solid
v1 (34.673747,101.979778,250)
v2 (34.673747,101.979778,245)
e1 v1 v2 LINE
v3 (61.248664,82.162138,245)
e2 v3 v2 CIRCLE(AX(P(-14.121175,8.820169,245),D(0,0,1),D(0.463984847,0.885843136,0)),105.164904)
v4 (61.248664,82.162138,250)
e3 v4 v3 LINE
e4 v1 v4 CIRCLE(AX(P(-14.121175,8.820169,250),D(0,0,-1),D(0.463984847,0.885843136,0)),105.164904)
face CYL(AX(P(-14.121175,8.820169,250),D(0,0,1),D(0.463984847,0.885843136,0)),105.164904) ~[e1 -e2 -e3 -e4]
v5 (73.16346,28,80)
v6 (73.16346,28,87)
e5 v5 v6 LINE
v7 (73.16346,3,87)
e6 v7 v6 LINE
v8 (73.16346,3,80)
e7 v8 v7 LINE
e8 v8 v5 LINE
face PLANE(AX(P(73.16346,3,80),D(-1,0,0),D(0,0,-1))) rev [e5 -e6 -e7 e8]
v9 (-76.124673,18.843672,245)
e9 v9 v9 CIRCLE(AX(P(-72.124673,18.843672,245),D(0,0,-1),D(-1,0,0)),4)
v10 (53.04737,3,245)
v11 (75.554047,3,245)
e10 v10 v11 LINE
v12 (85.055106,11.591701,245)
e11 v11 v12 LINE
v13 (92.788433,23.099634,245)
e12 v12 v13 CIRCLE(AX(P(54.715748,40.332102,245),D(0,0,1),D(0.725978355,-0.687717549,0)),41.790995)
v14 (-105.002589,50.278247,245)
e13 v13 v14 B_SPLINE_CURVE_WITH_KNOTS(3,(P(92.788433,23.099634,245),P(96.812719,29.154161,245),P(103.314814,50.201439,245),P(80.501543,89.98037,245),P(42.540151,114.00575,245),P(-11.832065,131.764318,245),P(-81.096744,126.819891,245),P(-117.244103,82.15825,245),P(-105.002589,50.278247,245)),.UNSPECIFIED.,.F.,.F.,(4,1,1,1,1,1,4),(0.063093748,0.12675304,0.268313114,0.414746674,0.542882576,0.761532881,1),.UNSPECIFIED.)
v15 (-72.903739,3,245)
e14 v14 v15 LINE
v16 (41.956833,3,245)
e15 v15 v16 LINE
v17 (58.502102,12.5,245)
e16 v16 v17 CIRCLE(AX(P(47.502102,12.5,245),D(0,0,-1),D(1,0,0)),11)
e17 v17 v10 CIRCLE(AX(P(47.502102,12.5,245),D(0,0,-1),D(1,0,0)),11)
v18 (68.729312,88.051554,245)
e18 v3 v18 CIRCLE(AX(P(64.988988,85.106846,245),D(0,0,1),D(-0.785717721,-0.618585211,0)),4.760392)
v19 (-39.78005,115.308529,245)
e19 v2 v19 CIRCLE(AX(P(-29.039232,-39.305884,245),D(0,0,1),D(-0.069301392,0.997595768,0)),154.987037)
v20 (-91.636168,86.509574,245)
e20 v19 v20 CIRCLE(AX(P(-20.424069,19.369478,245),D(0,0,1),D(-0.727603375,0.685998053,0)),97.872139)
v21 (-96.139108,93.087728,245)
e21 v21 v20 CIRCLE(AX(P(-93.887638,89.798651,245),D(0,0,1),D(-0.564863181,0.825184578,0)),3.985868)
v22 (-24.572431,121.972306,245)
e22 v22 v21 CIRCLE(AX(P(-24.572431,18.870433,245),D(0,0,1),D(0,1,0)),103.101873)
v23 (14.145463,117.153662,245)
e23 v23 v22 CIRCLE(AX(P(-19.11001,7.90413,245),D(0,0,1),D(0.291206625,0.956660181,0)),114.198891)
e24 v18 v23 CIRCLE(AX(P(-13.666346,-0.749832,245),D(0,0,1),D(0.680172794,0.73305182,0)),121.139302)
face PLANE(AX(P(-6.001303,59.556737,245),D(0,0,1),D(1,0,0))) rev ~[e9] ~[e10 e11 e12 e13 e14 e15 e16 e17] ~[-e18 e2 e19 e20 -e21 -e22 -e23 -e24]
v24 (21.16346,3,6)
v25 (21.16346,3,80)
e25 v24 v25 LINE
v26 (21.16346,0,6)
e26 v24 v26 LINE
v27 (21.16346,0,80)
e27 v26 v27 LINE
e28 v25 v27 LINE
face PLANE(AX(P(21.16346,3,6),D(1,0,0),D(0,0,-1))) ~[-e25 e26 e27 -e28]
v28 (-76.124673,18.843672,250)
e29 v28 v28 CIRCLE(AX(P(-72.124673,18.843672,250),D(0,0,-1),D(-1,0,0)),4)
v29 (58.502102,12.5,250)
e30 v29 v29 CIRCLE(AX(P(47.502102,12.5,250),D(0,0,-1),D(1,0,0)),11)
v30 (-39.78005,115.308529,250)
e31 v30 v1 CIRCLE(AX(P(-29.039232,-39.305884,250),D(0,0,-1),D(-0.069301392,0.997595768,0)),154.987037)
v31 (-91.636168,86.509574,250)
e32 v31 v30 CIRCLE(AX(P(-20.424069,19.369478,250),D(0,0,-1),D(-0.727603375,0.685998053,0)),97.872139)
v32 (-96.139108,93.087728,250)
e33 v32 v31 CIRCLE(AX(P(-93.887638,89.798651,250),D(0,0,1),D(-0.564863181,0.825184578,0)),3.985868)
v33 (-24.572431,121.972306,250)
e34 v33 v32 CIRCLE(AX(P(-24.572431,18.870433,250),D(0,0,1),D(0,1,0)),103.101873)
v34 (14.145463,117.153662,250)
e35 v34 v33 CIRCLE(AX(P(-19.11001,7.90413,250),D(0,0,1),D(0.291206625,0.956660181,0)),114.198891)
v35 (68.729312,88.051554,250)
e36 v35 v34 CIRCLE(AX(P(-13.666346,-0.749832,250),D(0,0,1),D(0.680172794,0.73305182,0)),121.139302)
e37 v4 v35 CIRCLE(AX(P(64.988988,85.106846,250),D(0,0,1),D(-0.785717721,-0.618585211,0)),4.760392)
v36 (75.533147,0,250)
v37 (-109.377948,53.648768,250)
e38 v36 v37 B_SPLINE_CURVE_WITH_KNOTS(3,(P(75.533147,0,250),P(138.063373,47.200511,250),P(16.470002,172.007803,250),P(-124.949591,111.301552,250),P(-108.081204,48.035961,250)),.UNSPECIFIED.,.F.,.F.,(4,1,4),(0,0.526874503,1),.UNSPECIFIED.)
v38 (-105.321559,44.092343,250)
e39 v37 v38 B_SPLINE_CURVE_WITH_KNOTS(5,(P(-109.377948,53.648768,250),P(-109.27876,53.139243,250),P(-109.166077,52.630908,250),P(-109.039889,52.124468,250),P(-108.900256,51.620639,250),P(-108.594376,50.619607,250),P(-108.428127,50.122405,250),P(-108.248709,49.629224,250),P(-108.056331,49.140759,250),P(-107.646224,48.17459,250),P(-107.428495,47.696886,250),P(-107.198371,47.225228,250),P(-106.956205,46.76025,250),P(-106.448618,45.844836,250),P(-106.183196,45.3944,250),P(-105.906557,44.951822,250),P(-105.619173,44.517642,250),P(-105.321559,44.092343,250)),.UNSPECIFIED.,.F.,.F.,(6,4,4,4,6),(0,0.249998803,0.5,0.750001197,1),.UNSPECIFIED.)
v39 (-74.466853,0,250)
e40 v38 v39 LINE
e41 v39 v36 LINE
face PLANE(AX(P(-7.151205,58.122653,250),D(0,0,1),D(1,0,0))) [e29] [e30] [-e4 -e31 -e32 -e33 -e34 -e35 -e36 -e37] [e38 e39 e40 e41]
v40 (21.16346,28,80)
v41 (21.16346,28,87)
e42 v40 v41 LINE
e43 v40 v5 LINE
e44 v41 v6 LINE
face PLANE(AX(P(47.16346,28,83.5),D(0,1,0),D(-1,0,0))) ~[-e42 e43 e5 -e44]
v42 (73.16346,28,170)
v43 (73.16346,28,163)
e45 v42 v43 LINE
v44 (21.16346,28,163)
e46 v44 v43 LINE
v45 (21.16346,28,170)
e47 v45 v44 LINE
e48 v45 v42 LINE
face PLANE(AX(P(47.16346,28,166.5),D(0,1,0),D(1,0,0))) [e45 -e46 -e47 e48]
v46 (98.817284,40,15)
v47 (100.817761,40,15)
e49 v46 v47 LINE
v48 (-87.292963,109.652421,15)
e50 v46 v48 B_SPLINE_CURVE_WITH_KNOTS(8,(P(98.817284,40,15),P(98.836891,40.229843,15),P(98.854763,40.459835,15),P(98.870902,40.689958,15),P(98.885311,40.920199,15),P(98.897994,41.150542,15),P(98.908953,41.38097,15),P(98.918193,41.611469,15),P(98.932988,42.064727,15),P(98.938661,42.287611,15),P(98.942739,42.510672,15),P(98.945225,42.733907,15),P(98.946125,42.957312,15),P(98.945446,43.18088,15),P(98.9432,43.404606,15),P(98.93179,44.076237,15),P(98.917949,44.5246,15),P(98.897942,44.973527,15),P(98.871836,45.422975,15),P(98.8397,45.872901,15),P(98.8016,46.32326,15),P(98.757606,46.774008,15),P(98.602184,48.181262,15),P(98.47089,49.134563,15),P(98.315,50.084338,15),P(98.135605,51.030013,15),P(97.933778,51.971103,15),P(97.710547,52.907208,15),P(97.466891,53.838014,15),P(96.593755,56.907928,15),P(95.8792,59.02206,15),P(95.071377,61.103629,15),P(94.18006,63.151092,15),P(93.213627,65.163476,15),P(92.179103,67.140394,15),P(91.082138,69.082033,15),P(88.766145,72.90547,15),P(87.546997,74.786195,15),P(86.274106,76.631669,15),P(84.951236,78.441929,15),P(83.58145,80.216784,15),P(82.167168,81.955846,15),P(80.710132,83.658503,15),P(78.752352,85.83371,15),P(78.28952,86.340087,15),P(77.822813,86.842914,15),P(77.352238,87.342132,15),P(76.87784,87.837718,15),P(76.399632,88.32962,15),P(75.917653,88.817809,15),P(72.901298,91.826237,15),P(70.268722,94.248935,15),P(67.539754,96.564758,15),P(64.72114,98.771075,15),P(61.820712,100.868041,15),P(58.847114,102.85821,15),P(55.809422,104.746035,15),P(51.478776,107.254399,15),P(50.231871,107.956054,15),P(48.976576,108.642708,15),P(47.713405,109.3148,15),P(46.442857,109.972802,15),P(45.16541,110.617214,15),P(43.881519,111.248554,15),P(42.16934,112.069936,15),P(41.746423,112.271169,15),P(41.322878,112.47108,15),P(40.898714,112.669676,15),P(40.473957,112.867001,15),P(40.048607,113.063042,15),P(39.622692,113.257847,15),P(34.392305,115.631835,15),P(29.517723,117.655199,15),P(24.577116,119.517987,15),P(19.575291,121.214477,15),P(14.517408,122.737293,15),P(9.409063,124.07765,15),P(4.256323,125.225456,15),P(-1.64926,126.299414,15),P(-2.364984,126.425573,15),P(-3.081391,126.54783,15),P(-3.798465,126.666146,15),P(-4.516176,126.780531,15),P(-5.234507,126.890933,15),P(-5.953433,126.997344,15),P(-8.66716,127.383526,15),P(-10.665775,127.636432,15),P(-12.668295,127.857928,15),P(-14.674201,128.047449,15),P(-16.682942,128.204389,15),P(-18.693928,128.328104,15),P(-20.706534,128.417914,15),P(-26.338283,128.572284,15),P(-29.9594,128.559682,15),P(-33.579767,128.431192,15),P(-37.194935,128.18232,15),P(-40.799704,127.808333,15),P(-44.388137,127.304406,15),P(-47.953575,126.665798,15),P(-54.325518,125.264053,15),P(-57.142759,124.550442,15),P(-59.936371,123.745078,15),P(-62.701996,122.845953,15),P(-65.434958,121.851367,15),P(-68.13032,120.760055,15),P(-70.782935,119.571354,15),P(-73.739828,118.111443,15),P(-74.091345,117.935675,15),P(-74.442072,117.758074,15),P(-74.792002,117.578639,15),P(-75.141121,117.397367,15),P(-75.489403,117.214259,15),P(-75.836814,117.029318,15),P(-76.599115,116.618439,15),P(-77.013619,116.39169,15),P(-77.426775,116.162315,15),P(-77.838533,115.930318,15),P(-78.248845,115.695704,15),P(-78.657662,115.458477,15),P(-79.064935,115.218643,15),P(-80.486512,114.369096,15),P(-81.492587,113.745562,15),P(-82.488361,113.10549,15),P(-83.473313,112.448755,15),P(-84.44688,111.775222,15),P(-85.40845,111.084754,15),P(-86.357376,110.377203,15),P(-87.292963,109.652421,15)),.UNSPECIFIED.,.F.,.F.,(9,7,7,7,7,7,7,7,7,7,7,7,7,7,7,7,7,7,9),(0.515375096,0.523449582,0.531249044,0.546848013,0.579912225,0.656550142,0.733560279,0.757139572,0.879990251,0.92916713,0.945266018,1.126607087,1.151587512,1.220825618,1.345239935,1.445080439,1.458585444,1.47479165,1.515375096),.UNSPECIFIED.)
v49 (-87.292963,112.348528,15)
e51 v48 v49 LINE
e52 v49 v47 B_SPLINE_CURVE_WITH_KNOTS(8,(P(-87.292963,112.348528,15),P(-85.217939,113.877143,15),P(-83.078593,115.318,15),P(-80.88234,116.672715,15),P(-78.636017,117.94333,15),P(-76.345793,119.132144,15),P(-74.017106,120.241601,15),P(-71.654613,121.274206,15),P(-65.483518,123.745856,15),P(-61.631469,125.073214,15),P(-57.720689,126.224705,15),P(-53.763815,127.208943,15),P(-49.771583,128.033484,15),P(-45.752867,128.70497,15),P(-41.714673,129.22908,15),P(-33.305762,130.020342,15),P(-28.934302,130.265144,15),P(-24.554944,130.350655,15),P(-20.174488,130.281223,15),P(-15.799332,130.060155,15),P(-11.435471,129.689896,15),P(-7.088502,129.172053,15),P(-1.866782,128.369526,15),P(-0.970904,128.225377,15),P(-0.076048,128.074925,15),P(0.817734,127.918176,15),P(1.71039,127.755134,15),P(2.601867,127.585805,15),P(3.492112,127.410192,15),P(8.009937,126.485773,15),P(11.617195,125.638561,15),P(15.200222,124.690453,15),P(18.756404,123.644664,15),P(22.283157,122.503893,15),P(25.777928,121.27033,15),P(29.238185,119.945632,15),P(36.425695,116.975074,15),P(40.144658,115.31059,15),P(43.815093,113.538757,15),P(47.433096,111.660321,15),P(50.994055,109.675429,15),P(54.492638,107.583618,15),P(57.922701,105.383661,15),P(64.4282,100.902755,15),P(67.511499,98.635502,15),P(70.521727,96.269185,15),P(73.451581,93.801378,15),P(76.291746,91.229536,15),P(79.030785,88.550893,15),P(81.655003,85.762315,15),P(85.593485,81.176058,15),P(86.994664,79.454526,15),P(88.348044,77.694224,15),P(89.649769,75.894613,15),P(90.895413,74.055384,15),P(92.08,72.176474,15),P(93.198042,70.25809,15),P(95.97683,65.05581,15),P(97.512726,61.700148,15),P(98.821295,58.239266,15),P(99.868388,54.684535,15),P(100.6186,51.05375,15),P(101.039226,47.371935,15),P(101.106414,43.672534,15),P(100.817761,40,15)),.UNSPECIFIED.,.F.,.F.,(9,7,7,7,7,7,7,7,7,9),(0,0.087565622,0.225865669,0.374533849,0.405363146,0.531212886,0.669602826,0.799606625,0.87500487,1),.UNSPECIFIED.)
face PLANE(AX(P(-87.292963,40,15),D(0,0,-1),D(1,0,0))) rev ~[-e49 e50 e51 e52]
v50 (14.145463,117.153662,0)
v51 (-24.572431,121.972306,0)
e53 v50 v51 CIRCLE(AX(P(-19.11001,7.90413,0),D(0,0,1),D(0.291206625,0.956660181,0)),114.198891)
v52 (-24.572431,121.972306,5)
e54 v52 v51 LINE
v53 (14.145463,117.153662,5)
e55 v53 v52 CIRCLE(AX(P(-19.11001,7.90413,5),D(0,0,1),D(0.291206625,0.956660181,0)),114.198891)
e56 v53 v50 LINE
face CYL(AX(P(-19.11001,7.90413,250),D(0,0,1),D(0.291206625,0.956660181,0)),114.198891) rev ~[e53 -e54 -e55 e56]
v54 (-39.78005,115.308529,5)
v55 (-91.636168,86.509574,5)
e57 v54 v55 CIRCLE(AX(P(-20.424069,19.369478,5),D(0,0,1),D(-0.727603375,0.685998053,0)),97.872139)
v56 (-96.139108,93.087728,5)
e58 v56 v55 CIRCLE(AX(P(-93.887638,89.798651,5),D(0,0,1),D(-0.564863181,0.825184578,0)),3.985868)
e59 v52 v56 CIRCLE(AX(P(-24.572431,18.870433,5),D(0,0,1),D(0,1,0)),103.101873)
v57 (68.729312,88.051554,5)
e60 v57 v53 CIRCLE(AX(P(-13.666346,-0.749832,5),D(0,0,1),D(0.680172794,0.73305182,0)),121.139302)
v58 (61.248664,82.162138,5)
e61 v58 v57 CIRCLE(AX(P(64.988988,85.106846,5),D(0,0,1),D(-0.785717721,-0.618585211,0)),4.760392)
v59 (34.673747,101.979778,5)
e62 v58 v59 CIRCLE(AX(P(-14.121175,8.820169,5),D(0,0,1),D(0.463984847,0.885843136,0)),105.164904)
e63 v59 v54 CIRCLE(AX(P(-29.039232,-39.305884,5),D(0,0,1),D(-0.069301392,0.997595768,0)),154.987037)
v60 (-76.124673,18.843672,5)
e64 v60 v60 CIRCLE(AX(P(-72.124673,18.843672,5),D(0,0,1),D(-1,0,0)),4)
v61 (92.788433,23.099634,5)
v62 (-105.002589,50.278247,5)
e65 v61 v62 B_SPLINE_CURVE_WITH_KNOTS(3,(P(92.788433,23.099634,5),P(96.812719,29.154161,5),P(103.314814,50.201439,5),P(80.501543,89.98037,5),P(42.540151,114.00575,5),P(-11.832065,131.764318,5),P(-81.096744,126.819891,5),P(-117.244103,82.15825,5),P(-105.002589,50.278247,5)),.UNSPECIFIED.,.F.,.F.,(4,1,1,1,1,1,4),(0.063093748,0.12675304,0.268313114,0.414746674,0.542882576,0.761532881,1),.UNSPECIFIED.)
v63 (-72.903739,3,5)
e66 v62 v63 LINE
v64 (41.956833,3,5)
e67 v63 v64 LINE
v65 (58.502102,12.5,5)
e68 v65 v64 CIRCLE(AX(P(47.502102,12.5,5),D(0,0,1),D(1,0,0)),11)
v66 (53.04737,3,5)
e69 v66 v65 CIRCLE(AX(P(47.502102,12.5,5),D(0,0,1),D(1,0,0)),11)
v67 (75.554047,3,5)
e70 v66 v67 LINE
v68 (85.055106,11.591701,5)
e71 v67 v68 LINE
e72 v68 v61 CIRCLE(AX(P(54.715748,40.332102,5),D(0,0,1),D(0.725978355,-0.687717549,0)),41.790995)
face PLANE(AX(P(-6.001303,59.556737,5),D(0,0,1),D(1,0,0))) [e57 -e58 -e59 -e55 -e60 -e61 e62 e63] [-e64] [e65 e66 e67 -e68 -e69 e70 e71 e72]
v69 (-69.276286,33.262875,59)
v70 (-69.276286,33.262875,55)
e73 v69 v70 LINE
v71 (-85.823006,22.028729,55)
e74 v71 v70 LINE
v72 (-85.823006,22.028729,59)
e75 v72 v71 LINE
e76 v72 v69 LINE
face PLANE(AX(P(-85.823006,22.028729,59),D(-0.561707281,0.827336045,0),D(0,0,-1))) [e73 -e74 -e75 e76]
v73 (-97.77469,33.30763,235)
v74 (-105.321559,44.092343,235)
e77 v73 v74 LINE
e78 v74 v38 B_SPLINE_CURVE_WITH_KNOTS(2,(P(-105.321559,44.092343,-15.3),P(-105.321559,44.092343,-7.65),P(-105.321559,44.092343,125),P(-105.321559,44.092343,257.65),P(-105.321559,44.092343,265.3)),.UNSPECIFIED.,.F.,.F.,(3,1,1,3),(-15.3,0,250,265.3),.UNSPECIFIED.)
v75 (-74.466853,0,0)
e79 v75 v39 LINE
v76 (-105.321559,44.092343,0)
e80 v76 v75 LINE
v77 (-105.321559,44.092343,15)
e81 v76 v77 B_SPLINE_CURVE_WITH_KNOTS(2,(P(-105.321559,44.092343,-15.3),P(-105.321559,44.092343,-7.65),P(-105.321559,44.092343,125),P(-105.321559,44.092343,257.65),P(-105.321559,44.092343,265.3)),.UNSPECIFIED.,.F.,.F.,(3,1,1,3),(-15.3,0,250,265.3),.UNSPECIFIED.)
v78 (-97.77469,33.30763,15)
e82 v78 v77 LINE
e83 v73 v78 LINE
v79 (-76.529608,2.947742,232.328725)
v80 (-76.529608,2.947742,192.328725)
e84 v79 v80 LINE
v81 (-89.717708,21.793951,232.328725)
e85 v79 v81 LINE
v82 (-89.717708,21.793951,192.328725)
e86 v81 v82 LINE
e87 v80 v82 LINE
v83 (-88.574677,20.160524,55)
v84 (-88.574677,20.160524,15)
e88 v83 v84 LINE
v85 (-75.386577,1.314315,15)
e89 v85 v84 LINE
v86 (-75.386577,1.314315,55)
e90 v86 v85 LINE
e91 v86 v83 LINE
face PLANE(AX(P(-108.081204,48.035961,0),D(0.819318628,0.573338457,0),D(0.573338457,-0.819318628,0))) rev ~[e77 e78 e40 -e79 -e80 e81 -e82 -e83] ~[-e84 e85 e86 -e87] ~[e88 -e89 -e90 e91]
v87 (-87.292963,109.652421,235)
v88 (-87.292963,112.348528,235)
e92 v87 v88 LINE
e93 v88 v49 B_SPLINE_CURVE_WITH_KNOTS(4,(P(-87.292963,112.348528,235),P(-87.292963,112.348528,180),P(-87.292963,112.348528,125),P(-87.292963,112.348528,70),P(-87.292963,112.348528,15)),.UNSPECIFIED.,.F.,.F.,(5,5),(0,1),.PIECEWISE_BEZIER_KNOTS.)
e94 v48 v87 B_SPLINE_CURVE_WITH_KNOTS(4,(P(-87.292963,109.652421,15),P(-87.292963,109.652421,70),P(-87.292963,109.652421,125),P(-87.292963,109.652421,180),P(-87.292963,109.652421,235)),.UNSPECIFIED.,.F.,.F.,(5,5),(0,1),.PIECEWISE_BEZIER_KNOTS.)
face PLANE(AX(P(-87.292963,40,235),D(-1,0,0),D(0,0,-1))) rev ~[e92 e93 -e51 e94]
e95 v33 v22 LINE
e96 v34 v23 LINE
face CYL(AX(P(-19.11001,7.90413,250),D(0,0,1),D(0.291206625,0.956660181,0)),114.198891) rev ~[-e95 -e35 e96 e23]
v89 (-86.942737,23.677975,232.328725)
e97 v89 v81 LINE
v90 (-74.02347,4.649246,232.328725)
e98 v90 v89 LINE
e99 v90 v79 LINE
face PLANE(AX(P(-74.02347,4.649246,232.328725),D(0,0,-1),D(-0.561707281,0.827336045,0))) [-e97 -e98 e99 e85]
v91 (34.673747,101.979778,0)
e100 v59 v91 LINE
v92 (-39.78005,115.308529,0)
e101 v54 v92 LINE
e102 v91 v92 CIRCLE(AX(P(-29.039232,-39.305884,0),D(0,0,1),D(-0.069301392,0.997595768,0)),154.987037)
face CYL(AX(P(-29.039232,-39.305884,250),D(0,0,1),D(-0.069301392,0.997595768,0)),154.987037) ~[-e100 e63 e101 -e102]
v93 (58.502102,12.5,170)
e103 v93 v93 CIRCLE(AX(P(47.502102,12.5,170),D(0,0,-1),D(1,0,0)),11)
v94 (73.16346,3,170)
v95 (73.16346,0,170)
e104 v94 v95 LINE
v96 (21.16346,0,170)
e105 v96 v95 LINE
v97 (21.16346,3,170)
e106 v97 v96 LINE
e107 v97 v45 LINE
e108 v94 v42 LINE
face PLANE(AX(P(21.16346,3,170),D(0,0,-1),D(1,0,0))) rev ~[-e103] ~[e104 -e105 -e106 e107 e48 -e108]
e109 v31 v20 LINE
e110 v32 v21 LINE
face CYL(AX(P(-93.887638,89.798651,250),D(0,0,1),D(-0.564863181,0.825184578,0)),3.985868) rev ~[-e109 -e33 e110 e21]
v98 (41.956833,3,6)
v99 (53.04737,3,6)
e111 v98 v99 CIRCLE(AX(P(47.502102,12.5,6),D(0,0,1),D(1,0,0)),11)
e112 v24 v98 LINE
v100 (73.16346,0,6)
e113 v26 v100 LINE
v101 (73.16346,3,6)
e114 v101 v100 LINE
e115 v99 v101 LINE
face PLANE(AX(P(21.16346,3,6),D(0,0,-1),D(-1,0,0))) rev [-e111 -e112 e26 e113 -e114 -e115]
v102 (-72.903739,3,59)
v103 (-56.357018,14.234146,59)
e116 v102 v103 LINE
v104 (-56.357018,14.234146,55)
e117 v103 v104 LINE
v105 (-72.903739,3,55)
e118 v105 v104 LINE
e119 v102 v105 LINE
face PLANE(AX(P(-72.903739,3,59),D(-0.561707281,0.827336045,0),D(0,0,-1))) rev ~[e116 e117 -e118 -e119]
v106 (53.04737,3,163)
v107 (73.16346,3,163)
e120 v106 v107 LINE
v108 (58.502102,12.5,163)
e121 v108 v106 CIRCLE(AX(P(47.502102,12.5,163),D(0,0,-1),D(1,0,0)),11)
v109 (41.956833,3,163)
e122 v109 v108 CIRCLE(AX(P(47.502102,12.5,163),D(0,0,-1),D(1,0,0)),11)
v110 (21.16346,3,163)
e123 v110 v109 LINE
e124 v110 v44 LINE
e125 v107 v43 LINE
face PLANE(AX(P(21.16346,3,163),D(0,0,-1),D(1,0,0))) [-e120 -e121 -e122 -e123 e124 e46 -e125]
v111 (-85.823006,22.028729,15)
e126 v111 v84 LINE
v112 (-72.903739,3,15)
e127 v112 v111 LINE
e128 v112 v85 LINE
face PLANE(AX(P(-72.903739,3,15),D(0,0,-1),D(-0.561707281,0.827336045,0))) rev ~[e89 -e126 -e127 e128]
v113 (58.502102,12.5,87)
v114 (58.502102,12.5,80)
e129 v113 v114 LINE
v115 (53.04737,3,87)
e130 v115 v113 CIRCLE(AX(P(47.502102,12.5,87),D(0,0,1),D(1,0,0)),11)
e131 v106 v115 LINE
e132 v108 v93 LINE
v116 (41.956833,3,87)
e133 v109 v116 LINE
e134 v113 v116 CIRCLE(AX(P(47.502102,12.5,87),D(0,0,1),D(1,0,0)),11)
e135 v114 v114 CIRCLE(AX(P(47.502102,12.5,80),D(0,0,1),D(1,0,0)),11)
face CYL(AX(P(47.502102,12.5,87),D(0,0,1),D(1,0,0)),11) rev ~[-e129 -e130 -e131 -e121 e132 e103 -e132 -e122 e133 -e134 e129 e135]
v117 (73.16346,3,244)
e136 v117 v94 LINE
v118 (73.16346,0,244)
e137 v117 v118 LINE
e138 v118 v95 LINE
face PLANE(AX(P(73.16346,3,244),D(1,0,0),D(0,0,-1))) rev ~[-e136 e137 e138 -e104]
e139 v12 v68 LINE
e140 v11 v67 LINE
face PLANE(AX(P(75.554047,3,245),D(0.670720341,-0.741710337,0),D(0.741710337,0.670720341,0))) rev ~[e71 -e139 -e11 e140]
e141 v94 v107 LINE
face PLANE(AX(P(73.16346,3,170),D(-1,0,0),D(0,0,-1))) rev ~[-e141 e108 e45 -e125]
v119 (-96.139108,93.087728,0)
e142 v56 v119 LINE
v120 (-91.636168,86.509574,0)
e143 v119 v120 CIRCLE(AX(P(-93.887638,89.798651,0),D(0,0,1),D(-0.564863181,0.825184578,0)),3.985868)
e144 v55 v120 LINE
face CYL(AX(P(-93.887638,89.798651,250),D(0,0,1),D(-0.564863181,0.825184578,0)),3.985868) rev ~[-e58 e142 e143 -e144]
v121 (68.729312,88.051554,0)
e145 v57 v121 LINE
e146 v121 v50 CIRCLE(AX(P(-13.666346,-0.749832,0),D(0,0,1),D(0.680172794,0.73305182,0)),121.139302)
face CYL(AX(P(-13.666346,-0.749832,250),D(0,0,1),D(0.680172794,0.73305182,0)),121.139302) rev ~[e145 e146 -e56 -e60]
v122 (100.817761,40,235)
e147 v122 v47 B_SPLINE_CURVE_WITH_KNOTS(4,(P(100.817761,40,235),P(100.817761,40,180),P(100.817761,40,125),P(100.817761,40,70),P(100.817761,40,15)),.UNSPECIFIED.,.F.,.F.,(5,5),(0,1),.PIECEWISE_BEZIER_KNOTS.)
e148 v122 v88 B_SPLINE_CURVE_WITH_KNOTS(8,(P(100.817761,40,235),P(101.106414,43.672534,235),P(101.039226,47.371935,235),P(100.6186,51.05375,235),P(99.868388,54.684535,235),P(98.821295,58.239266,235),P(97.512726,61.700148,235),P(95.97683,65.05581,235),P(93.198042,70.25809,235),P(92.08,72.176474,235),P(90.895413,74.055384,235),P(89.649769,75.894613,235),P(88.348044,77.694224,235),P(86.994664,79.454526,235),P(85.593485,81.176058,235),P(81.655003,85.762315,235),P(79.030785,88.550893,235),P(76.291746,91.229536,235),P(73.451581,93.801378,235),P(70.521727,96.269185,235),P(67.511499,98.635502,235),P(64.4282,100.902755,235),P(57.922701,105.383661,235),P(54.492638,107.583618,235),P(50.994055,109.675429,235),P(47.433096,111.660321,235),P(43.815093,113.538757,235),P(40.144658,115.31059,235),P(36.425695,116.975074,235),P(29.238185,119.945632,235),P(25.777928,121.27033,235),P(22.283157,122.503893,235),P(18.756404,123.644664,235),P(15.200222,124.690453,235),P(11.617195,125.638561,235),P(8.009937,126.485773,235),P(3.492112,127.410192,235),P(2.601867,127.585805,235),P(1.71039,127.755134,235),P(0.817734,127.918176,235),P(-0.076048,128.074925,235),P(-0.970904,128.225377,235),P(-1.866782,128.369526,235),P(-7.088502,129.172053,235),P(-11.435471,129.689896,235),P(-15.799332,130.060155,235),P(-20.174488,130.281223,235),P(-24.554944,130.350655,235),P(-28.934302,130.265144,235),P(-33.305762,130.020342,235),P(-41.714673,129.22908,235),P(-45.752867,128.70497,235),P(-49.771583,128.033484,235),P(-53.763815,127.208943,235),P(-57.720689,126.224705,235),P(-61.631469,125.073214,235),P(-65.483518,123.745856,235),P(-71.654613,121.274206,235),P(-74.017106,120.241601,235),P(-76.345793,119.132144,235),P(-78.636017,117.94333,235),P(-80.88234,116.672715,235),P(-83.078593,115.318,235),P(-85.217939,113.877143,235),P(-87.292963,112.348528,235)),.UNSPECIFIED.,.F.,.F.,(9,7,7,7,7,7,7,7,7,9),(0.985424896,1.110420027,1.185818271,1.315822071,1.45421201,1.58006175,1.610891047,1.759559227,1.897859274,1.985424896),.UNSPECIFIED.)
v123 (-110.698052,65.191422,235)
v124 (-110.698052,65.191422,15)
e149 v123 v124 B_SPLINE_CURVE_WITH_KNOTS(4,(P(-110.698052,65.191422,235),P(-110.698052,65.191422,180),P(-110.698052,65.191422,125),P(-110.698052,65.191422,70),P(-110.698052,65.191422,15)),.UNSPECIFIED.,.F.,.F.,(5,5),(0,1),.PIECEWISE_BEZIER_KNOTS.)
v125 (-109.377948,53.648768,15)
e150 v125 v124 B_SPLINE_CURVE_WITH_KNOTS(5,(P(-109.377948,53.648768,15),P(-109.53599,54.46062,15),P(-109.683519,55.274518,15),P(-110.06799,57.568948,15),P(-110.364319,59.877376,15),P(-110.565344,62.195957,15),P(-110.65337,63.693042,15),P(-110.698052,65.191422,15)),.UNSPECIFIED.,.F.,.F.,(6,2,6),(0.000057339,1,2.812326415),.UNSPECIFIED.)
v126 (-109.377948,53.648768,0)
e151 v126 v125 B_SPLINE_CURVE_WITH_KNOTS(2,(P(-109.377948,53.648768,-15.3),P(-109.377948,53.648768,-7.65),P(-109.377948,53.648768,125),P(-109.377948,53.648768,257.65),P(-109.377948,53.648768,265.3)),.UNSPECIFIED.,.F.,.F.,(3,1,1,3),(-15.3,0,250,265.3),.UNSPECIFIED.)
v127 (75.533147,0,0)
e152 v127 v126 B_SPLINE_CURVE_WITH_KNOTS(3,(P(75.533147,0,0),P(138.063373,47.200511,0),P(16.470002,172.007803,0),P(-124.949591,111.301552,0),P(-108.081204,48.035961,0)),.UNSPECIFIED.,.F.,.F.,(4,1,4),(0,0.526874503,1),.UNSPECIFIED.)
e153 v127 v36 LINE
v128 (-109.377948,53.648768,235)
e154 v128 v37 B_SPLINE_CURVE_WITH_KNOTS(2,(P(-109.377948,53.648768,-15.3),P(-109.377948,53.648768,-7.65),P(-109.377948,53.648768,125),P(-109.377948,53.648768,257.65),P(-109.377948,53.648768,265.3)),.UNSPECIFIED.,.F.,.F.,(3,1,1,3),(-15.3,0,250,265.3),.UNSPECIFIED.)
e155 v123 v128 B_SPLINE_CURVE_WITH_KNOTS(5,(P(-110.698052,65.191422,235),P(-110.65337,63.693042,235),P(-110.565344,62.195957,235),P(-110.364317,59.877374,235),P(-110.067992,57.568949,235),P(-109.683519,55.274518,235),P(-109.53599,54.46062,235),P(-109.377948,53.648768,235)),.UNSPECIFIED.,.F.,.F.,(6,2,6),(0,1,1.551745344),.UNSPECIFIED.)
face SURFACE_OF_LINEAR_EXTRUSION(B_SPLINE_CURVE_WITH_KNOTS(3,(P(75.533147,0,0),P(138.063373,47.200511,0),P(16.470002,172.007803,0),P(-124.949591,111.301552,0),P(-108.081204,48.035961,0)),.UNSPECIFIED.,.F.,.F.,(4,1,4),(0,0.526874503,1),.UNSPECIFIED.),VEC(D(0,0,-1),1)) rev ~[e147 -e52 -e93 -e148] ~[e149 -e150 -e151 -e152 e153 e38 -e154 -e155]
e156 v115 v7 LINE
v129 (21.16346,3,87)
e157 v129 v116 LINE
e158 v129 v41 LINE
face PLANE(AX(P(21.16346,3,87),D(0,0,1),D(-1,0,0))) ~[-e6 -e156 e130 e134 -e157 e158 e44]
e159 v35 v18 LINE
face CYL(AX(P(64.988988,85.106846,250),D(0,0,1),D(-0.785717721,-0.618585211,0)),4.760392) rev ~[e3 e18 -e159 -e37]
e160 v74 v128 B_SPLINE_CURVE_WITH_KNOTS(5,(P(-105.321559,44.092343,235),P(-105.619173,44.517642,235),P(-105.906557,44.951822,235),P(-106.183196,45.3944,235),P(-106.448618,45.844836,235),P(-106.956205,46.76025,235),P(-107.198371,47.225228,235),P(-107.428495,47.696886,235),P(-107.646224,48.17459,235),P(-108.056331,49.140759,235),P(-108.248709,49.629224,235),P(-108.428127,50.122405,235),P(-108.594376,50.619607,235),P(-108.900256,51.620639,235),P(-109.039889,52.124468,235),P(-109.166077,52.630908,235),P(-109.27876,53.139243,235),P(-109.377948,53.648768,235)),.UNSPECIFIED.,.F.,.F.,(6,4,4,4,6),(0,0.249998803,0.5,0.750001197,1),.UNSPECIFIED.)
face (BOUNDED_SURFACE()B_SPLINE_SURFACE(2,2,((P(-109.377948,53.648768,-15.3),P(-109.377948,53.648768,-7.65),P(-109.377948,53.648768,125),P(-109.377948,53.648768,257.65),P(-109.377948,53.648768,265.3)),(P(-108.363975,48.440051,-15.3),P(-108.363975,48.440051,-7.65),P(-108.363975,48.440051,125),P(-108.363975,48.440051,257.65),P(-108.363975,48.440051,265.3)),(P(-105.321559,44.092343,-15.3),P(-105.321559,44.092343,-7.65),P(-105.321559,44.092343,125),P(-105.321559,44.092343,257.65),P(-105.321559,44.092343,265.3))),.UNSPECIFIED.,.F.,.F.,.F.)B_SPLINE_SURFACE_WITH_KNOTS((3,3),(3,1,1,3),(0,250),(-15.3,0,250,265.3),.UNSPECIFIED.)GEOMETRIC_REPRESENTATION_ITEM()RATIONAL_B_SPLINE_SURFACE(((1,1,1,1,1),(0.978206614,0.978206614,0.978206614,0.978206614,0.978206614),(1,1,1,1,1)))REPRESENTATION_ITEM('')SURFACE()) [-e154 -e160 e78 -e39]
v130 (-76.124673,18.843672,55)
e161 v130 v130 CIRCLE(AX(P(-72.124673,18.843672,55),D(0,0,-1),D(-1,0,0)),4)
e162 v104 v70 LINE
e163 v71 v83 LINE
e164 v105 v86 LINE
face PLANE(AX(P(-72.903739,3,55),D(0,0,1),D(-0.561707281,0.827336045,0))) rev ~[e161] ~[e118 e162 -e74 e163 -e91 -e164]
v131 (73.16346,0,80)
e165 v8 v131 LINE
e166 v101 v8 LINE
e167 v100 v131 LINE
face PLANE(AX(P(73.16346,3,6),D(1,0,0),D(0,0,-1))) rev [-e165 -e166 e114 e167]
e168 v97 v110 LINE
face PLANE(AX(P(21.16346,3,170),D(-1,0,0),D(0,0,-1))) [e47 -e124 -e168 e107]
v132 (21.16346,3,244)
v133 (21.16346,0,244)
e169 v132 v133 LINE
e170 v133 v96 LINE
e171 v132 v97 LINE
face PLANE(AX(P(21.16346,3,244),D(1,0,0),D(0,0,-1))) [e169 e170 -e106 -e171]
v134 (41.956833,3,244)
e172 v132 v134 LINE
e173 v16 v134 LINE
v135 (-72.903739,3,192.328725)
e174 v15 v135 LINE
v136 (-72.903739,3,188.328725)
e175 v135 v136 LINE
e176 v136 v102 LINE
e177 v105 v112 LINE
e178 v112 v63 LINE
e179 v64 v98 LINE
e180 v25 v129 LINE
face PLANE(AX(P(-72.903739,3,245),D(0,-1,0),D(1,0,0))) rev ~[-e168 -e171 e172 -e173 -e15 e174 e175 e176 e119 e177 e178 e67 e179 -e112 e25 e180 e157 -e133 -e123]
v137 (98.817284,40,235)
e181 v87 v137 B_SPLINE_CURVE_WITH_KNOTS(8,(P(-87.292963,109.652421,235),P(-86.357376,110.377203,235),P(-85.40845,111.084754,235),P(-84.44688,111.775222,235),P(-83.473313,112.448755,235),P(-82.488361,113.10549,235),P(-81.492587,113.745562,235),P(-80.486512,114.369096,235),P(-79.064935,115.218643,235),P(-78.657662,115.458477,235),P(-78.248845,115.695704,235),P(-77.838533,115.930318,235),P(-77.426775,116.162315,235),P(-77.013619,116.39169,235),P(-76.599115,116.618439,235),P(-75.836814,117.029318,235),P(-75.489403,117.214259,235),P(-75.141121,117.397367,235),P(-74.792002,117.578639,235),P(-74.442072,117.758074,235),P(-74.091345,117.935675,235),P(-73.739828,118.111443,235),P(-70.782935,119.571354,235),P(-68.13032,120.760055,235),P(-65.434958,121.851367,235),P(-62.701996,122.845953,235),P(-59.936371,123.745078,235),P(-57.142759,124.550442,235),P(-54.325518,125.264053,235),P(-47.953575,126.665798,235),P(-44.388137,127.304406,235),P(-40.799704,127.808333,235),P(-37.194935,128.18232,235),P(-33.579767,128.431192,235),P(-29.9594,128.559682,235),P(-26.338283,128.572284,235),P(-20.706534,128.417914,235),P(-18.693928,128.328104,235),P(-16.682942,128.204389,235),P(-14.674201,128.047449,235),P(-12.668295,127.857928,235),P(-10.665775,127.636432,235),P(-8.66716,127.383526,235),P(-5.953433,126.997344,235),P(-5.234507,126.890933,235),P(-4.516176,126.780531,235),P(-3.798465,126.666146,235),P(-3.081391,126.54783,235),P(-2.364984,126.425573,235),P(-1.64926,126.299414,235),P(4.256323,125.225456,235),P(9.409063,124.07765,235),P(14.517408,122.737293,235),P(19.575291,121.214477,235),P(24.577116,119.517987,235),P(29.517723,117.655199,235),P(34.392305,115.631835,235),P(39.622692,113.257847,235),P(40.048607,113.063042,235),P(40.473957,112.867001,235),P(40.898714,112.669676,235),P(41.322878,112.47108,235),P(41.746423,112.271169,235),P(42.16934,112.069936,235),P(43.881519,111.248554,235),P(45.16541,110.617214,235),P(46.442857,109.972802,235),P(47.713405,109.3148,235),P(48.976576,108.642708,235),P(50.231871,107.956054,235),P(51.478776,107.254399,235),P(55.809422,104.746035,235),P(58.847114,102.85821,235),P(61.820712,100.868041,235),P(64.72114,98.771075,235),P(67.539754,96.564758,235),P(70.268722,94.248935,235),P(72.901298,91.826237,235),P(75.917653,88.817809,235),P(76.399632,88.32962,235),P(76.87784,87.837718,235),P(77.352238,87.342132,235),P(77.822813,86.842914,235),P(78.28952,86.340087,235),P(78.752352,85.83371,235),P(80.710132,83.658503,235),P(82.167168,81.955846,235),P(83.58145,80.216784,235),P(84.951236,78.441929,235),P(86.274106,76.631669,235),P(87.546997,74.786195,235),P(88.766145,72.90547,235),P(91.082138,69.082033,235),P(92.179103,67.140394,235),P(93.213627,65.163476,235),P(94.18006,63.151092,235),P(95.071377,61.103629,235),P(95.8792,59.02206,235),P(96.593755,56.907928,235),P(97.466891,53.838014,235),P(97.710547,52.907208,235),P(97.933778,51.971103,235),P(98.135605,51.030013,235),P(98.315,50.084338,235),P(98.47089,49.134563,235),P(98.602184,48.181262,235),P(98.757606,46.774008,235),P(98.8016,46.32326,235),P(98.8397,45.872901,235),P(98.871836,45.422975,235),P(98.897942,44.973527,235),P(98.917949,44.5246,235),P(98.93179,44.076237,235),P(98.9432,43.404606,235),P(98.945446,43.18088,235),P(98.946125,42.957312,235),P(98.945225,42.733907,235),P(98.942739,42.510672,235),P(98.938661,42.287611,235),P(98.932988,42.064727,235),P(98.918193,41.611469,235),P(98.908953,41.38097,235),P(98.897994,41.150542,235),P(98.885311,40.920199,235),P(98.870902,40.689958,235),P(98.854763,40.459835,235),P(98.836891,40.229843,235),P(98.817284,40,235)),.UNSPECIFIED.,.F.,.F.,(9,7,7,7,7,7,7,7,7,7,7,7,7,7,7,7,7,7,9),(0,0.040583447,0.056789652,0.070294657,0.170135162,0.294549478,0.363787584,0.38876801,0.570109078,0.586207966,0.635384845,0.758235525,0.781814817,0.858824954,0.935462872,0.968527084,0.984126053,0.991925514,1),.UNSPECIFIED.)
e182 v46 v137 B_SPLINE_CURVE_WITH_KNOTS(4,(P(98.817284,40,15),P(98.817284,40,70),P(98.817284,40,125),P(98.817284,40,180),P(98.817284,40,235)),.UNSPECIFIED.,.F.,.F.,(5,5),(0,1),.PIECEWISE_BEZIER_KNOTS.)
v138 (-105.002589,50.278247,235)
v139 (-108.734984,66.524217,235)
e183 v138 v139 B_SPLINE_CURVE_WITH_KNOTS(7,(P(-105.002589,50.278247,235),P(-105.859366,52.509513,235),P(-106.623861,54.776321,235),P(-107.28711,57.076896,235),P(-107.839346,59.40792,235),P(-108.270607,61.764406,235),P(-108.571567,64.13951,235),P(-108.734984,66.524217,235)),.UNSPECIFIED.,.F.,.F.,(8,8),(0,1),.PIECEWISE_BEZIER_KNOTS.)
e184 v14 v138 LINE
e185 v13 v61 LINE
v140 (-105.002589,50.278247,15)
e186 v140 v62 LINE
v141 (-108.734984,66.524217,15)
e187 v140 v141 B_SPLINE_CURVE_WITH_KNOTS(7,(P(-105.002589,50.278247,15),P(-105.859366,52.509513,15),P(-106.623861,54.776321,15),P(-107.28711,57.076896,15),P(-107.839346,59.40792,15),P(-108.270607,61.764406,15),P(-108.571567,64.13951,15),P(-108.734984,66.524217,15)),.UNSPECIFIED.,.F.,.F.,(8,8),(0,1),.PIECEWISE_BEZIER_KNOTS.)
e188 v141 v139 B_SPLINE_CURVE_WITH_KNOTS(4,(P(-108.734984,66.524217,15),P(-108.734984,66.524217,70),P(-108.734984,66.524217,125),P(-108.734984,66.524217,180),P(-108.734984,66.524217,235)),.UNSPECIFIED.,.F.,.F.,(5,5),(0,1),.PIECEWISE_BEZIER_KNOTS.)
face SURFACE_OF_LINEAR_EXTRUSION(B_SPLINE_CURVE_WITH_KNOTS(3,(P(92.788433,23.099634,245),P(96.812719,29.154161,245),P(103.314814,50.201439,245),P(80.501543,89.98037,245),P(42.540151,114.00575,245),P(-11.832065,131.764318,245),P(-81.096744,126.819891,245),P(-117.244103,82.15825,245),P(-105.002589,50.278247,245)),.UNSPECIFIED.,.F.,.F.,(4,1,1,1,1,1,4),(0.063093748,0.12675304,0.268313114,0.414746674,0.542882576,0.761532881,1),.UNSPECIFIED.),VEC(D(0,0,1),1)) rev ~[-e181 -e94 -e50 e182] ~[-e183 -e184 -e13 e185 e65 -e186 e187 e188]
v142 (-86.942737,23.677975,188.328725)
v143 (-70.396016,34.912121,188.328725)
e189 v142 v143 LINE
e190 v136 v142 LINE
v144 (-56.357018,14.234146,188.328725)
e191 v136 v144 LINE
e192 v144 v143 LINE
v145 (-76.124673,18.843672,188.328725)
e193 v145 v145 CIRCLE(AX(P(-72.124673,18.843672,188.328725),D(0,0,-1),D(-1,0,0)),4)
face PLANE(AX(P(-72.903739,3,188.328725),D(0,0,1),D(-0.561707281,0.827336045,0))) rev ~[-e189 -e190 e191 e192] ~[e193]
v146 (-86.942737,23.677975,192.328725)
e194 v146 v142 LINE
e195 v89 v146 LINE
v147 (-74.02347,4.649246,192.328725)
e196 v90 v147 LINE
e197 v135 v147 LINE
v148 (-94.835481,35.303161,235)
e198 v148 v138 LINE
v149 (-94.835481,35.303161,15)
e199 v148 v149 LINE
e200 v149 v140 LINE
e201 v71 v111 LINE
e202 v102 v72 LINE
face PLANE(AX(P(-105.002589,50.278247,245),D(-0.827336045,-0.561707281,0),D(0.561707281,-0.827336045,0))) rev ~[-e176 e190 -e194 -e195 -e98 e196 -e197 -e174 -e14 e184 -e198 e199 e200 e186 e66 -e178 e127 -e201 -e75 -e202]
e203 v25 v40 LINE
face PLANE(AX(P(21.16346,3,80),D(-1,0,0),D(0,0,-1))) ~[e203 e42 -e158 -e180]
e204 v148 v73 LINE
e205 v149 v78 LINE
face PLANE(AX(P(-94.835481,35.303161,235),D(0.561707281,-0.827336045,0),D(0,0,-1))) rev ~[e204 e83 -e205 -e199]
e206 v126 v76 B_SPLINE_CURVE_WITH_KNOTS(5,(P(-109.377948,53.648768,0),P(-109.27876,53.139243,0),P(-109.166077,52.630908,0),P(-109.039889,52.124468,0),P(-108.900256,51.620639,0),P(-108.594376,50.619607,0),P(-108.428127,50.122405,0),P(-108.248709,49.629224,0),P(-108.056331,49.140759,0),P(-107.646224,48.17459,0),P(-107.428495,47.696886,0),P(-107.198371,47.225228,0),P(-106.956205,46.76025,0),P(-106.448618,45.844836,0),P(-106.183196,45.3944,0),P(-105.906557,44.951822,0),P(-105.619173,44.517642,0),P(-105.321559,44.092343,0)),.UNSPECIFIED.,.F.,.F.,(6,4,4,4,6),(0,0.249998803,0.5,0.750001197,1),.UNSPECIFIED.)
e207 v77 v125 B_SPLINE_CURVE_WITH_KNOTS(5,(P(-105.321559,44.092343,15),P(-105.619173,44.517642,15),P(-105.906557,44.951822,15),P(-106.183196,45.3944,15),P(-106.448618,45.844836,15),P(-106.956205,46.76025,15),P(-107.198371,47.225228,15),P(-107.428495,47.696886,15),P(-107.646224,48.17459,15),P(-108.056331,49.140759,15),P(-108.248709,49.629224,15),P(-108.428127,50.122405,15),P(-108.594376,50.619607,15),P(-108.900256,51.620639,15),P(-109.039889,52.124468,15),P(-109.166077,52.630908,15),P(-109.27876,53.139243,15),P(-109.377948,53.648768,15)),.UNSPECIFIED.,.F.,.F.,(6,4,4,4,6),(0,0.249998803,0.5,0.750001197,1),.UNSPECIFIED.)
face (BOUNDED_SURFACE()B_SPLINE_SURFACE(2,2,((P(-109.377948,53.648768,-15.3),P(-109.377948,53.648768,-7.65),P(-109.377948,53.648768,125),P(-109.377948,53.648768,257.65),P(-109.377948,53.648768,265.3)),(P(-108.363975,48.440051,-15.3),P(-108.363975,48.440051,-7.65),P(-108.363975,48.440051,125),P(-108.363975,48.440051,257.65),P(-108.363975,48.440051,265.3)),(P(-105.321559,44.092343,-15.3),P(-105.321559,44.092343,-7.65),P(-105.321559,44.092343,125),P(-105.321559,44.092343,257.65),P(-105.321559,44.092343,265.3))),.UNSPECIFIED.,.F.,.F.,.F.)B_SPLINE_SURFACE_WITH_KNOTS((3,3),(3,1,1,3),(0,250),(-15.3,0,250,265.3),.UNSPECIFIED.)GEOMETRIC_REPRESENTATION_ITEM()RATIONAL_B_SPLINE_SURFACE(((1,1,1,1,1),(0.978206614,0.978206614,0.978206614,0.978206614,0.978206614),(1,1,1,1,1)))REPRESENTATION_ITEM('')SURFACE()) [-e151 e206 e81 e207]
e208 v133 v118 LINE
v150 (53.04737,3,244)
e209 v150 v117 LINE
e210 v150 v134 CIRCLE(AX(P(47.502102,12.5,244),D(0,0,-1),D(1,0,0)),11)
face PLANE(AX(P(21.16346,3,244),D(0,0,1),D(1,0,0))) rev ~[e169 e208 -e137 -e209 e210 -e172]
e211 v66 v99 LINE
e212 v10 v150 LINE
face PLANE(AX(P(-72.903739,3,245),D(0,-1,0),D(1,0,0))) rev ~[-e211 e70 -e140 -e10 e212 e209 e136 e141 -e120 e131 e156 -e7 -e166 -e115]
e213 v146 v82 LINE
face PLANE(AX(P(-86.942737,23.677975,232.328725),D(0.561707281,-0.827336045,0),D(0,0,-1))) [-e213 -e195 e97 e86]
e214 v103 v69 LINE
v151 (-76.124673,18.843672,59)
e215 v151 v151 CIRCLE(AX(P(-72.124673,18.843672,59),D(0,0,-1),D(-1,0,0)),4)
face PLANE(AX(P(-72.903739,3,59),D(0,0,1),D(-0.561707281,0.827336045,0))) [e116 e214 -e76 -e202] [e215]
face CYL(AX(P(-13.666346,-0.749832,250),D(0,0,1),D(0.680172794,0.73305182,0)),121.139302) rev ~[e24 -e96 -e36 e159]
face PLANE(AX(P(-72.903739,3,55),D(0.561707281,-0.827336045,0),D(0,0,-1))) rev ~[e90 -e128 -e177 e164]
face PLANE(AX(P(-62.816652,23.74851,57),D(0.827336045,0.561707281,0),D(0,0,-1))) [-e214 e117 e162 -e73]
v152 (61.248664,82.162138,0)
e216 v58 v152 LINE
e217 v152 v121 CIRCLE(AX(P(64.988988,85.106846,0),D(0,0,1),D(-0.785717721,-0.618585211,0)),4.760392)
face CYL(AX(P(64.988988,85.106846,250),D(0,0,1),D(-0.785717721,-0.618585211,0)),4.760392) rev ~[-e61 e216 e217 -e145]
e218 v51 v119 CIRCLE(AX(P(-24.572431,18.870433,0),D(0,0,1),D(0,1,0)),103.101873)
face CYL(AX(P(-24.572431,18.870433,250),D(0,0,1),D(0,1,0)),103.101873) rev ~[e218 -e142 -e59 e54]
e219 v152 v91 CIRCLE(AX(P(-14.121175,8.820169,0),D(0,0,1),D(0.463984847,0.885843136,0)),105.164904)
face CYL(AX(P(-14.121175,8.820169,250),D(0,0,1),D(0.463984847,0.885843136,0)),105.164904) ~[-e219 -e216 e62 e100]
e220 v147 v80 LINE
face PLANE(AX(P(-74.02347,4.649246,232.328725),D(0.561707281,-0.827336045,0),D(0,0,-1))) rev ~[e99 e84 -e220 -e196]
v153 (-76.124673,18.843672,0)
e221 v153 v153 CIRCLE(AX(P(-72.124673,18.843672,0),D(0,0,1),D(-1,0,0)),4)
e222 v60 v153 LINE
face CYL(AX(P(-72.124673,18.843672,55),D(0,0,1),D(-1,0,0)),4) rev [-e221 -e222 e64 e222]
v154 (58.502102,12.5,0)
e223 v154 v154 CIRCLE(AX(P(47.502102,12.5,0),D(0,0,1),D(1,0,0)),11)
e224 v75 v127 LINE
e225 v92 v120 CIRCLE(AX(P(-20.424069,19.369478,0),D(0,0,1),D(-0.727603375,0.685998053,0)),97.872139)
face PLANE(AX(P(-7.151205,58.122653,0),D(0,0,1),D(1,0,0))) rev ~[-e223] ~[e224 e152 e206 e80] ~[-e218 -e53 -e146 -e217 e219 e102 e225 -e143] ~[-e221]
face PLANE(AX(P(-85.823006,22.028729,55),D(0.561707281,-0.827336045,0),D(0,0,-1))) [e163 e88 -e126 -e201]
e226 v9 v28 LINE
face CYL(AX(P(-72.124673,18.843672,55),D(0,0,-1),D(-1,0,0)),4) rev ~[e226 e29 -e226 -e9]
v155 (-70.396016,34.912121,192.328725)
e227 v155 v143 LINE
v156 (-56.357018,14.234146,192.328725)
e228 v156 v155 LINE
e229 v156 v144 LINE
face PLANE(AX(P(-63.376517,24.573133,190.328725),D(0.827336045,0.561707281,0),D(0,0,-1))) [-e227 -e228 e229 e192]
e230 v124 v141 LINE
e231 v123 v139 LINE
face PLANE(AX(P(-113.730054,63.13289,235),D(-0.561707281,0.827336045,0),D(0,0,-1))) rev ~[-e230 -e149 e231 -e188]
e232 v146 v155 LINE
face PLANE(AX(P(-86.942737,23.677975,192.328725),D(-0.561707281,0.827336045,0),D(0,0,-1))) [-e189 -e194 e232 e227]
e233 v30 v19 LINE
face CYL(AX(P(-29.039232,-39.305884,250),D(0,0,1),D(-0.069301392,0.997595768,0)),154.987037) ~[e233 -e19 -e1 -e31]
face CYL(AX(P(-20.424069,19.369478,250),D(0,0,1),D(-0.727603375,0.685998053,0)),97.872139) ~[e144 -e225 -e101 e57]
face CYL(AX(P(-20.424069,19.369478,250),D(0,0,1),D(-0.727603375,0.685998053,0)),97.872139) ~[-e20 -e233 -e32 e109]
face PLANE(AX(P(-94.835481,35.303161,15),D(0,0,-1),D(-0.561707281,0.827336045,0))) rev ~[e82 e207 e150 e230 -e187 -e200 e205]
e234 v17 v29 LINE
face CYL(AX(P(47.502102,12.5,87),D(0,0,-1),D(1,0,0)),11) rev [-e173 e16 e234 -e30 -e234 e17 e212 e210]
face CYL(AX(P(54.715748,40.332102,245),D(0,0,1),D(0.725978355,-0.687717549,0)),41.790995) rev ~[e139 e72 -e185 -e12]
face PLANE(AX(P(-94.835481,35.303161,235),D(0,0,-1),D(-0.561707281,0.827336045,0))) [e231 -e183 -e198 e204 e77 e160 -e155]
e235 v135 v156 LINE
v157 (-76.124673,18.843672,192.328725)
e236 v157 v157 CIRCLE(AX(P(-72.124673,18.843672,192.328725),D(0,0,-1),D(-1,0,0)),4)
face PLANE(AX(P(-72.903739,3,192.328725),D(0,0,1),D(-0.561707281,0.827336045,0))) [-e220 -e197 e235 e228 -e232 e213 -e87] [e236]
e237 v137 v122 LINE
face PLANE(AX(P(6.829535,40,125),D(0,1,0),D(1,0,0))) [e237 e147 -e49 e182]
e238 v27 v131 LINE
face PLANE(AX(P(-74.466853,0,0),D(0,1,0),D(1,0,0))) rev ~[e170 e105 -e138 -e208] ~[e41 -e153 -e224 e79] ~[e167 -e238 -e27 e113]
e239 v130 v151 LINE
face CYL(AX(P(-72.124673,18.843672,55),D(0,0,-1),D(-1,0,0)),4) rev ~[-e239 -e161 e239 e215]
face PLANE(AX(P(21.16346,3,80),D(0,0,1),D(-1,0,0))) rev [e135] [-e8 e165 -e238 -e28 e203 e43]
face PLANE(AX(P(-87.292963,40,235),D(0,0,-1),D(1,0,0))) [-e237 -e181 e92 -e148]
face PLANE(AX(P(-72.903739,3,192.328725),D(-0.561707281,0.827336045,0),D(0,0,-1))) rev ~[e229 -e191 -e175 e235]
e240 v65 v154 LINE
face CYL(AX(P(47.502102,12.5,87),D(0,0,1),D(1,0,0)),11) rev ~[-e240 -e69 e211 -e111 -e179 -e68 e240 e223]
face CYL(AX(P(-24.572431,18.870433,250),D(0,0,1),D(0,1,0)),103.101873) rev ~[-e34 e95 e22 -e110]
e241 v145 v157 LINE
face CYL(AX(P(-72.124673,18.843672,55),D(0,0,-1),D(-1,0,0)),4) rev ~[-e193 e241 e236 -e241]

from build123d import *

# Parameters (mm, degrees)
BOSS_EXTRUDE1_DEPTH      = 250
CUT_EXTRUDE1_START       = -5
CUT_EXTRUDE1_DEPTH       = 240
CUT_EXTRUDE2_START       = 40
SKETCH3_W                = 188.244995532
SKETCH3_H                = 220
CUT_EXTRUDE2_DEPTH       = 236
FILLET1_R                = 25
SKETCH16_W               = 40
SKETCH16_H               = 23
CUT_EXTRUDE11_DEPTH      = 170
SKETCH17_W               = 4
SKETCH17_H               = 24.99344169
SKETCH17_H_2             = 23
BOSS_EXTRUDE5_DEPTH      = 20
SKETCH18_R               = 4
CUT_EXTRUDE12_DEPTH      = 56.0000001
CUT_EXTRUDE12_DEPTH_BACK = 196.0000001
SKETCH26_W               = 52
SKETCH26_H               = 74
CUT_EXTRUDE13_DEPTH      = 10
SKETCH27_W               = 52
SKETCH27_H               = 7
BOSS_EXTRUDE6_DEPTH      = 25
SKETCH29_R               = 11
CUT_EXTRUDE14_DEPTH      = 164.0000001
CUT_EXTRUDE14_DEPTH_BACK = 88.0000001
SKETCH31_W               = 220
SKETCH31_H               = 33.637756758
CUT_EXTRUDE15_DEPTH      = 216.289478638
CUT_EXTRUDE15_DEPTH_BACK = 33.977288489
CUT_EXTRUDE17_DEPTH      = 1.0000001
CUT_EXTRUDE17_DEPTH_BACK = 251.0000001


with BuildPart() as part:
    # Sketch1 → Boss-Extrude1 (new body)
    with BuildSketch(Plane.XY):
        with BuildLine():
            Line((-74.466852712, 0), (75.533147288, 0))
            add(Edge.make_bspline(
                [(75.533147288, 0), (138.063372934, 47.200510513), (16.470001542, 172.007803308), (-124.949591118, 111.301552399), (-108.081203548, 48.03596108)],
                knots=[0, 0, 0, 0, 0.526874503, 1, 1, 1, 1], degree=3))
            Line((-108.081203548, 48.03596108), (-74.466852712, 0))
        make_face()
    extrude(amount=BOSS_EXTRUDE1_DEPTH)

    # Sketch2 → Cut-Extrude1 (cut)
    with BuildSketch(Plane.XY.offset(250).offset(CUT_EXTRUDE1_START)):
        with BuildLine():
            Line((-105.002588912, 50.278247003), (-72.903738951, 3))
            Line((-72.903738951, 3), (73.163375947, 3))
            Line((73.163375947, 3), (75.554047329, 3))
            Line((75.554047329, 3), (85.055106359, 11.591701144))
            ThreePointArc((85.055106359, 11.591701144), (89.402345548, 17.022720611), (92.788433069, 23.09963367))
            add(Edge.make_bspline(
                [(92.788433069, 23.09963367), (96.812719468, 29.154161293), (103.314814409, 50.201439356), (80.501543446, 89.980370093), (42.540150732, 114.005749807), (-11.832065214, 131.764317978), (-81.096743835, 126.81989126), (-117.24410327, 82.158250279), (-105.002588912, 50.278247003)],
                knots=[0.063093748, 0.063093748, 0.063093748, 0.063093748, 0.12675304, 0.268313114, 0.414746674, 0.542882576, 0.761532881, 1, 1, 1, 1], degree=3))
        make_face()
    extrude(amount=-CUT_EXTRUDE1_DEPTH, mode=Mode.SUBTRACT)

    # Sketch3 → Cut-Extrude2 (cut)
    with BuildSketch(Plane(origin=(0, 0, 0), x_dir=(1, 0, 0), z_dir=(0, 1, 0)).offset(CUT_EXTRUDE2_START)):
        with Locations((6.82953452, -125)):
            Rectangle(SKETCH3_W, SKETCH3_H)
    extrude(amount=CUT_EXTRUDE2_DEPTH, mode=Mode.SUBTRACT)

    # Fillet1
    fillet1_edges = [part.edges().sort_by_distance(p)[0] for p in [
        (-108.081203548, 48.03596108, 125),
    ]]
    fillet(fillet1_edges, radius=FILLET1_R)

    # Sketch16 → Cut-Extrude11 (cut)
    with BuildSketch(Plane(origin=(-48.507348666, -32.933329925, 0), x_dir=(0, 0, -1), z_dir=(0.827336045, 0.561707281, 0))):
        with Locations((-212.328725108, 56.926010788)):
            Rectangle(SKETCH16_W, SKETCH16_H)
        with Locations((-35, 54.932569098)):
            Rectangle(SKETCH16_W, SKETCH16_H)
    extrude(amount=-CUT_EXTRUDE11_DEPTH, mode=Mode.SUBTRACT)

    # Sketch17 → Boss-Extrude5 (add)
    with BuildSketch(Plane(origin=(-48.507348666, -32.933329925, 0), x_dir=(0, 0, -1), z_dir=(0.827336045, 0.561707281, 0))):
        with Locations((-190.328725108, 55.929289943)):
            Rectangle(SKETCH17_W, SKETCH17_H)
        with Locations((-57, 54.932569098)):
            Rectangle(SKETCH17_W, SKETCH17_H_2)
    extrude(amount=BOSS_EXTRUDE5_DEPTH)

    # Sketch18 → Cut-Extrude12 (cut, two sides)
    with BuildSketch(Plane(origin=(0, 0, 55), x_dir=(-1, 0, 0), z_dir=(0, 0, -1))) as cut_extrude12_sk:
        with Locations((72.12467311, 18.843671615)):
            Circle(SKETCH18_R)
    extrude(amount=CUT_EXTRUDE12_DEPTH, mode=Mode.SUBTRACT)
    extrude(cut_extrude12_sk.sketch, amount=-CUT_EXTRUDE12_DEPTH_BACK, mode=Mode.SUBTRACT)

    # Sketch26 → Cut-Extrude13 (cut)
    with BuildSketch(Plane(origin=(0, 3, 0), x_dir=(1, 0, 0), z_dir=(0, 1, 0))):
        with Locations((47.163460131, -207)):
            Rectangle(SKETCH26_W, SKETCH26_H)
    cut_extrude13 = extrude(amount=-CUT_EXTRUDE13_DEPTH, mode=Mode.SUBTRACT)

    # Sketch27 → Boss-Extrude6 (add)
    with BuildSketch(Plane(origin=(0, 3, 0), x_dir=(1, 0, 0), z_dir=(0, 1, 0))):
        with Locations((47.163460131, -166.5)):
            Rectangle(SKETCH27_W, SKETCH27_H)
    boss_extrude6 = extrude(amount=BOSS_EXTRUDE6_DEPTH)

    # Mirror1: Cut-Extrude13, Boss-Extrude6 across plane
    add(cut_extrude13.mirror(Plane.XY.offset(125)), mode=Mode.SUBTRACT)
    add(boss_extrude6.mirror(Plane.XY.offset(125)))

    # Sketch29 → Cut-Extrude14 (cut, two sides)
    with BuildSketch(Plane.XY.offset(87)) as cut_extrude14_sk:
        with Locations((47.502101682, 12.5)):
            Circle(SKETCH29_R)
    extrude(amount=CUT_EXTRUDE14_DEPTH, mode=Mode.SUBTRACT)
    extrude(cut_extrude14_sk.sketch, amount=-CUT_EXTRUDE14_DEPTH_BACK, mode=Mode.SUBTRACT)

    # Sketch31 → Cut-Extrude15 (cut, two sides)
    with BuildSketch(Plane(origin=(-48.507348666, -32.933329925, 0), x_dir=(0, 0, -1), z_dir=(0.827336045, 0.561707281, 0))) as cut_extrude15_sk:
        with Locations((-125, 99.296236359)):
            Rectangle(SKETCH31_W, SKETCH31_H)
    extrude(amount=CUT_EXTRUDE15_DEPTH, mode=Mode.SUBTRACT)
    extrude(cut_extrude15_sk.sketch, amount=-CUT_EXTRUDE15_DEPTH_BACK, mode=Mode.SUBTRACT)

    # Sketch33 → Cut-Extrude17 (cut, two sides)
    with BuildSketch(Plane.XY.offset(250)) as cut_extrude17_sk:
        with BuildLine():
            ThreePointArc((-96.139108118, 93.087727905), (-97.176714819, 87.547181157), (-91.636168071, 86.509574455))
            ThreePointArc((-91.636168071, 86.509574455), (-67.942373177, 104.932123716), (-39.780049997, 115.308529202))
            ThreePointArc((-39.780049997, 115.308529202), (-1.727579676, 113.255761081), (34.673746596, 101.979777748))
            ThreePointArc((34.673746596, 101.979777748), (48.746993578, 93.12467921), (61.24866353, 82.162138486))
            ThreePointArc((61.24866353, 82.162138486), (67.933695568, 81.366522268), (68.729311786, 88.051554307))
            ThreePointArc((68.729311786, 88.051554307), (43.326237947, 106.145331635), (14.145463416, 117.153661945))
            ThreePointArc((14.145463416, 117.153661945), (-5.006170904, 121.228745495), (-24.572430668, 121.972305781))
            ThreePointArc((-24.572430668, 121.972305781), (-63.160343802, 114.478848604), (-96.139108118, 93.087727905))
        make_face()
    extrude(amount=CUT_EXTRUDE17_DEPTH, mode=Mode.SUBTRACT)
    extrude(cut_extrude17_sk.sketch, amount=-CUT_EXTRUDE17_DEPTH_BACK, mode=Mode.SUBTRACT)


solid = part.part
